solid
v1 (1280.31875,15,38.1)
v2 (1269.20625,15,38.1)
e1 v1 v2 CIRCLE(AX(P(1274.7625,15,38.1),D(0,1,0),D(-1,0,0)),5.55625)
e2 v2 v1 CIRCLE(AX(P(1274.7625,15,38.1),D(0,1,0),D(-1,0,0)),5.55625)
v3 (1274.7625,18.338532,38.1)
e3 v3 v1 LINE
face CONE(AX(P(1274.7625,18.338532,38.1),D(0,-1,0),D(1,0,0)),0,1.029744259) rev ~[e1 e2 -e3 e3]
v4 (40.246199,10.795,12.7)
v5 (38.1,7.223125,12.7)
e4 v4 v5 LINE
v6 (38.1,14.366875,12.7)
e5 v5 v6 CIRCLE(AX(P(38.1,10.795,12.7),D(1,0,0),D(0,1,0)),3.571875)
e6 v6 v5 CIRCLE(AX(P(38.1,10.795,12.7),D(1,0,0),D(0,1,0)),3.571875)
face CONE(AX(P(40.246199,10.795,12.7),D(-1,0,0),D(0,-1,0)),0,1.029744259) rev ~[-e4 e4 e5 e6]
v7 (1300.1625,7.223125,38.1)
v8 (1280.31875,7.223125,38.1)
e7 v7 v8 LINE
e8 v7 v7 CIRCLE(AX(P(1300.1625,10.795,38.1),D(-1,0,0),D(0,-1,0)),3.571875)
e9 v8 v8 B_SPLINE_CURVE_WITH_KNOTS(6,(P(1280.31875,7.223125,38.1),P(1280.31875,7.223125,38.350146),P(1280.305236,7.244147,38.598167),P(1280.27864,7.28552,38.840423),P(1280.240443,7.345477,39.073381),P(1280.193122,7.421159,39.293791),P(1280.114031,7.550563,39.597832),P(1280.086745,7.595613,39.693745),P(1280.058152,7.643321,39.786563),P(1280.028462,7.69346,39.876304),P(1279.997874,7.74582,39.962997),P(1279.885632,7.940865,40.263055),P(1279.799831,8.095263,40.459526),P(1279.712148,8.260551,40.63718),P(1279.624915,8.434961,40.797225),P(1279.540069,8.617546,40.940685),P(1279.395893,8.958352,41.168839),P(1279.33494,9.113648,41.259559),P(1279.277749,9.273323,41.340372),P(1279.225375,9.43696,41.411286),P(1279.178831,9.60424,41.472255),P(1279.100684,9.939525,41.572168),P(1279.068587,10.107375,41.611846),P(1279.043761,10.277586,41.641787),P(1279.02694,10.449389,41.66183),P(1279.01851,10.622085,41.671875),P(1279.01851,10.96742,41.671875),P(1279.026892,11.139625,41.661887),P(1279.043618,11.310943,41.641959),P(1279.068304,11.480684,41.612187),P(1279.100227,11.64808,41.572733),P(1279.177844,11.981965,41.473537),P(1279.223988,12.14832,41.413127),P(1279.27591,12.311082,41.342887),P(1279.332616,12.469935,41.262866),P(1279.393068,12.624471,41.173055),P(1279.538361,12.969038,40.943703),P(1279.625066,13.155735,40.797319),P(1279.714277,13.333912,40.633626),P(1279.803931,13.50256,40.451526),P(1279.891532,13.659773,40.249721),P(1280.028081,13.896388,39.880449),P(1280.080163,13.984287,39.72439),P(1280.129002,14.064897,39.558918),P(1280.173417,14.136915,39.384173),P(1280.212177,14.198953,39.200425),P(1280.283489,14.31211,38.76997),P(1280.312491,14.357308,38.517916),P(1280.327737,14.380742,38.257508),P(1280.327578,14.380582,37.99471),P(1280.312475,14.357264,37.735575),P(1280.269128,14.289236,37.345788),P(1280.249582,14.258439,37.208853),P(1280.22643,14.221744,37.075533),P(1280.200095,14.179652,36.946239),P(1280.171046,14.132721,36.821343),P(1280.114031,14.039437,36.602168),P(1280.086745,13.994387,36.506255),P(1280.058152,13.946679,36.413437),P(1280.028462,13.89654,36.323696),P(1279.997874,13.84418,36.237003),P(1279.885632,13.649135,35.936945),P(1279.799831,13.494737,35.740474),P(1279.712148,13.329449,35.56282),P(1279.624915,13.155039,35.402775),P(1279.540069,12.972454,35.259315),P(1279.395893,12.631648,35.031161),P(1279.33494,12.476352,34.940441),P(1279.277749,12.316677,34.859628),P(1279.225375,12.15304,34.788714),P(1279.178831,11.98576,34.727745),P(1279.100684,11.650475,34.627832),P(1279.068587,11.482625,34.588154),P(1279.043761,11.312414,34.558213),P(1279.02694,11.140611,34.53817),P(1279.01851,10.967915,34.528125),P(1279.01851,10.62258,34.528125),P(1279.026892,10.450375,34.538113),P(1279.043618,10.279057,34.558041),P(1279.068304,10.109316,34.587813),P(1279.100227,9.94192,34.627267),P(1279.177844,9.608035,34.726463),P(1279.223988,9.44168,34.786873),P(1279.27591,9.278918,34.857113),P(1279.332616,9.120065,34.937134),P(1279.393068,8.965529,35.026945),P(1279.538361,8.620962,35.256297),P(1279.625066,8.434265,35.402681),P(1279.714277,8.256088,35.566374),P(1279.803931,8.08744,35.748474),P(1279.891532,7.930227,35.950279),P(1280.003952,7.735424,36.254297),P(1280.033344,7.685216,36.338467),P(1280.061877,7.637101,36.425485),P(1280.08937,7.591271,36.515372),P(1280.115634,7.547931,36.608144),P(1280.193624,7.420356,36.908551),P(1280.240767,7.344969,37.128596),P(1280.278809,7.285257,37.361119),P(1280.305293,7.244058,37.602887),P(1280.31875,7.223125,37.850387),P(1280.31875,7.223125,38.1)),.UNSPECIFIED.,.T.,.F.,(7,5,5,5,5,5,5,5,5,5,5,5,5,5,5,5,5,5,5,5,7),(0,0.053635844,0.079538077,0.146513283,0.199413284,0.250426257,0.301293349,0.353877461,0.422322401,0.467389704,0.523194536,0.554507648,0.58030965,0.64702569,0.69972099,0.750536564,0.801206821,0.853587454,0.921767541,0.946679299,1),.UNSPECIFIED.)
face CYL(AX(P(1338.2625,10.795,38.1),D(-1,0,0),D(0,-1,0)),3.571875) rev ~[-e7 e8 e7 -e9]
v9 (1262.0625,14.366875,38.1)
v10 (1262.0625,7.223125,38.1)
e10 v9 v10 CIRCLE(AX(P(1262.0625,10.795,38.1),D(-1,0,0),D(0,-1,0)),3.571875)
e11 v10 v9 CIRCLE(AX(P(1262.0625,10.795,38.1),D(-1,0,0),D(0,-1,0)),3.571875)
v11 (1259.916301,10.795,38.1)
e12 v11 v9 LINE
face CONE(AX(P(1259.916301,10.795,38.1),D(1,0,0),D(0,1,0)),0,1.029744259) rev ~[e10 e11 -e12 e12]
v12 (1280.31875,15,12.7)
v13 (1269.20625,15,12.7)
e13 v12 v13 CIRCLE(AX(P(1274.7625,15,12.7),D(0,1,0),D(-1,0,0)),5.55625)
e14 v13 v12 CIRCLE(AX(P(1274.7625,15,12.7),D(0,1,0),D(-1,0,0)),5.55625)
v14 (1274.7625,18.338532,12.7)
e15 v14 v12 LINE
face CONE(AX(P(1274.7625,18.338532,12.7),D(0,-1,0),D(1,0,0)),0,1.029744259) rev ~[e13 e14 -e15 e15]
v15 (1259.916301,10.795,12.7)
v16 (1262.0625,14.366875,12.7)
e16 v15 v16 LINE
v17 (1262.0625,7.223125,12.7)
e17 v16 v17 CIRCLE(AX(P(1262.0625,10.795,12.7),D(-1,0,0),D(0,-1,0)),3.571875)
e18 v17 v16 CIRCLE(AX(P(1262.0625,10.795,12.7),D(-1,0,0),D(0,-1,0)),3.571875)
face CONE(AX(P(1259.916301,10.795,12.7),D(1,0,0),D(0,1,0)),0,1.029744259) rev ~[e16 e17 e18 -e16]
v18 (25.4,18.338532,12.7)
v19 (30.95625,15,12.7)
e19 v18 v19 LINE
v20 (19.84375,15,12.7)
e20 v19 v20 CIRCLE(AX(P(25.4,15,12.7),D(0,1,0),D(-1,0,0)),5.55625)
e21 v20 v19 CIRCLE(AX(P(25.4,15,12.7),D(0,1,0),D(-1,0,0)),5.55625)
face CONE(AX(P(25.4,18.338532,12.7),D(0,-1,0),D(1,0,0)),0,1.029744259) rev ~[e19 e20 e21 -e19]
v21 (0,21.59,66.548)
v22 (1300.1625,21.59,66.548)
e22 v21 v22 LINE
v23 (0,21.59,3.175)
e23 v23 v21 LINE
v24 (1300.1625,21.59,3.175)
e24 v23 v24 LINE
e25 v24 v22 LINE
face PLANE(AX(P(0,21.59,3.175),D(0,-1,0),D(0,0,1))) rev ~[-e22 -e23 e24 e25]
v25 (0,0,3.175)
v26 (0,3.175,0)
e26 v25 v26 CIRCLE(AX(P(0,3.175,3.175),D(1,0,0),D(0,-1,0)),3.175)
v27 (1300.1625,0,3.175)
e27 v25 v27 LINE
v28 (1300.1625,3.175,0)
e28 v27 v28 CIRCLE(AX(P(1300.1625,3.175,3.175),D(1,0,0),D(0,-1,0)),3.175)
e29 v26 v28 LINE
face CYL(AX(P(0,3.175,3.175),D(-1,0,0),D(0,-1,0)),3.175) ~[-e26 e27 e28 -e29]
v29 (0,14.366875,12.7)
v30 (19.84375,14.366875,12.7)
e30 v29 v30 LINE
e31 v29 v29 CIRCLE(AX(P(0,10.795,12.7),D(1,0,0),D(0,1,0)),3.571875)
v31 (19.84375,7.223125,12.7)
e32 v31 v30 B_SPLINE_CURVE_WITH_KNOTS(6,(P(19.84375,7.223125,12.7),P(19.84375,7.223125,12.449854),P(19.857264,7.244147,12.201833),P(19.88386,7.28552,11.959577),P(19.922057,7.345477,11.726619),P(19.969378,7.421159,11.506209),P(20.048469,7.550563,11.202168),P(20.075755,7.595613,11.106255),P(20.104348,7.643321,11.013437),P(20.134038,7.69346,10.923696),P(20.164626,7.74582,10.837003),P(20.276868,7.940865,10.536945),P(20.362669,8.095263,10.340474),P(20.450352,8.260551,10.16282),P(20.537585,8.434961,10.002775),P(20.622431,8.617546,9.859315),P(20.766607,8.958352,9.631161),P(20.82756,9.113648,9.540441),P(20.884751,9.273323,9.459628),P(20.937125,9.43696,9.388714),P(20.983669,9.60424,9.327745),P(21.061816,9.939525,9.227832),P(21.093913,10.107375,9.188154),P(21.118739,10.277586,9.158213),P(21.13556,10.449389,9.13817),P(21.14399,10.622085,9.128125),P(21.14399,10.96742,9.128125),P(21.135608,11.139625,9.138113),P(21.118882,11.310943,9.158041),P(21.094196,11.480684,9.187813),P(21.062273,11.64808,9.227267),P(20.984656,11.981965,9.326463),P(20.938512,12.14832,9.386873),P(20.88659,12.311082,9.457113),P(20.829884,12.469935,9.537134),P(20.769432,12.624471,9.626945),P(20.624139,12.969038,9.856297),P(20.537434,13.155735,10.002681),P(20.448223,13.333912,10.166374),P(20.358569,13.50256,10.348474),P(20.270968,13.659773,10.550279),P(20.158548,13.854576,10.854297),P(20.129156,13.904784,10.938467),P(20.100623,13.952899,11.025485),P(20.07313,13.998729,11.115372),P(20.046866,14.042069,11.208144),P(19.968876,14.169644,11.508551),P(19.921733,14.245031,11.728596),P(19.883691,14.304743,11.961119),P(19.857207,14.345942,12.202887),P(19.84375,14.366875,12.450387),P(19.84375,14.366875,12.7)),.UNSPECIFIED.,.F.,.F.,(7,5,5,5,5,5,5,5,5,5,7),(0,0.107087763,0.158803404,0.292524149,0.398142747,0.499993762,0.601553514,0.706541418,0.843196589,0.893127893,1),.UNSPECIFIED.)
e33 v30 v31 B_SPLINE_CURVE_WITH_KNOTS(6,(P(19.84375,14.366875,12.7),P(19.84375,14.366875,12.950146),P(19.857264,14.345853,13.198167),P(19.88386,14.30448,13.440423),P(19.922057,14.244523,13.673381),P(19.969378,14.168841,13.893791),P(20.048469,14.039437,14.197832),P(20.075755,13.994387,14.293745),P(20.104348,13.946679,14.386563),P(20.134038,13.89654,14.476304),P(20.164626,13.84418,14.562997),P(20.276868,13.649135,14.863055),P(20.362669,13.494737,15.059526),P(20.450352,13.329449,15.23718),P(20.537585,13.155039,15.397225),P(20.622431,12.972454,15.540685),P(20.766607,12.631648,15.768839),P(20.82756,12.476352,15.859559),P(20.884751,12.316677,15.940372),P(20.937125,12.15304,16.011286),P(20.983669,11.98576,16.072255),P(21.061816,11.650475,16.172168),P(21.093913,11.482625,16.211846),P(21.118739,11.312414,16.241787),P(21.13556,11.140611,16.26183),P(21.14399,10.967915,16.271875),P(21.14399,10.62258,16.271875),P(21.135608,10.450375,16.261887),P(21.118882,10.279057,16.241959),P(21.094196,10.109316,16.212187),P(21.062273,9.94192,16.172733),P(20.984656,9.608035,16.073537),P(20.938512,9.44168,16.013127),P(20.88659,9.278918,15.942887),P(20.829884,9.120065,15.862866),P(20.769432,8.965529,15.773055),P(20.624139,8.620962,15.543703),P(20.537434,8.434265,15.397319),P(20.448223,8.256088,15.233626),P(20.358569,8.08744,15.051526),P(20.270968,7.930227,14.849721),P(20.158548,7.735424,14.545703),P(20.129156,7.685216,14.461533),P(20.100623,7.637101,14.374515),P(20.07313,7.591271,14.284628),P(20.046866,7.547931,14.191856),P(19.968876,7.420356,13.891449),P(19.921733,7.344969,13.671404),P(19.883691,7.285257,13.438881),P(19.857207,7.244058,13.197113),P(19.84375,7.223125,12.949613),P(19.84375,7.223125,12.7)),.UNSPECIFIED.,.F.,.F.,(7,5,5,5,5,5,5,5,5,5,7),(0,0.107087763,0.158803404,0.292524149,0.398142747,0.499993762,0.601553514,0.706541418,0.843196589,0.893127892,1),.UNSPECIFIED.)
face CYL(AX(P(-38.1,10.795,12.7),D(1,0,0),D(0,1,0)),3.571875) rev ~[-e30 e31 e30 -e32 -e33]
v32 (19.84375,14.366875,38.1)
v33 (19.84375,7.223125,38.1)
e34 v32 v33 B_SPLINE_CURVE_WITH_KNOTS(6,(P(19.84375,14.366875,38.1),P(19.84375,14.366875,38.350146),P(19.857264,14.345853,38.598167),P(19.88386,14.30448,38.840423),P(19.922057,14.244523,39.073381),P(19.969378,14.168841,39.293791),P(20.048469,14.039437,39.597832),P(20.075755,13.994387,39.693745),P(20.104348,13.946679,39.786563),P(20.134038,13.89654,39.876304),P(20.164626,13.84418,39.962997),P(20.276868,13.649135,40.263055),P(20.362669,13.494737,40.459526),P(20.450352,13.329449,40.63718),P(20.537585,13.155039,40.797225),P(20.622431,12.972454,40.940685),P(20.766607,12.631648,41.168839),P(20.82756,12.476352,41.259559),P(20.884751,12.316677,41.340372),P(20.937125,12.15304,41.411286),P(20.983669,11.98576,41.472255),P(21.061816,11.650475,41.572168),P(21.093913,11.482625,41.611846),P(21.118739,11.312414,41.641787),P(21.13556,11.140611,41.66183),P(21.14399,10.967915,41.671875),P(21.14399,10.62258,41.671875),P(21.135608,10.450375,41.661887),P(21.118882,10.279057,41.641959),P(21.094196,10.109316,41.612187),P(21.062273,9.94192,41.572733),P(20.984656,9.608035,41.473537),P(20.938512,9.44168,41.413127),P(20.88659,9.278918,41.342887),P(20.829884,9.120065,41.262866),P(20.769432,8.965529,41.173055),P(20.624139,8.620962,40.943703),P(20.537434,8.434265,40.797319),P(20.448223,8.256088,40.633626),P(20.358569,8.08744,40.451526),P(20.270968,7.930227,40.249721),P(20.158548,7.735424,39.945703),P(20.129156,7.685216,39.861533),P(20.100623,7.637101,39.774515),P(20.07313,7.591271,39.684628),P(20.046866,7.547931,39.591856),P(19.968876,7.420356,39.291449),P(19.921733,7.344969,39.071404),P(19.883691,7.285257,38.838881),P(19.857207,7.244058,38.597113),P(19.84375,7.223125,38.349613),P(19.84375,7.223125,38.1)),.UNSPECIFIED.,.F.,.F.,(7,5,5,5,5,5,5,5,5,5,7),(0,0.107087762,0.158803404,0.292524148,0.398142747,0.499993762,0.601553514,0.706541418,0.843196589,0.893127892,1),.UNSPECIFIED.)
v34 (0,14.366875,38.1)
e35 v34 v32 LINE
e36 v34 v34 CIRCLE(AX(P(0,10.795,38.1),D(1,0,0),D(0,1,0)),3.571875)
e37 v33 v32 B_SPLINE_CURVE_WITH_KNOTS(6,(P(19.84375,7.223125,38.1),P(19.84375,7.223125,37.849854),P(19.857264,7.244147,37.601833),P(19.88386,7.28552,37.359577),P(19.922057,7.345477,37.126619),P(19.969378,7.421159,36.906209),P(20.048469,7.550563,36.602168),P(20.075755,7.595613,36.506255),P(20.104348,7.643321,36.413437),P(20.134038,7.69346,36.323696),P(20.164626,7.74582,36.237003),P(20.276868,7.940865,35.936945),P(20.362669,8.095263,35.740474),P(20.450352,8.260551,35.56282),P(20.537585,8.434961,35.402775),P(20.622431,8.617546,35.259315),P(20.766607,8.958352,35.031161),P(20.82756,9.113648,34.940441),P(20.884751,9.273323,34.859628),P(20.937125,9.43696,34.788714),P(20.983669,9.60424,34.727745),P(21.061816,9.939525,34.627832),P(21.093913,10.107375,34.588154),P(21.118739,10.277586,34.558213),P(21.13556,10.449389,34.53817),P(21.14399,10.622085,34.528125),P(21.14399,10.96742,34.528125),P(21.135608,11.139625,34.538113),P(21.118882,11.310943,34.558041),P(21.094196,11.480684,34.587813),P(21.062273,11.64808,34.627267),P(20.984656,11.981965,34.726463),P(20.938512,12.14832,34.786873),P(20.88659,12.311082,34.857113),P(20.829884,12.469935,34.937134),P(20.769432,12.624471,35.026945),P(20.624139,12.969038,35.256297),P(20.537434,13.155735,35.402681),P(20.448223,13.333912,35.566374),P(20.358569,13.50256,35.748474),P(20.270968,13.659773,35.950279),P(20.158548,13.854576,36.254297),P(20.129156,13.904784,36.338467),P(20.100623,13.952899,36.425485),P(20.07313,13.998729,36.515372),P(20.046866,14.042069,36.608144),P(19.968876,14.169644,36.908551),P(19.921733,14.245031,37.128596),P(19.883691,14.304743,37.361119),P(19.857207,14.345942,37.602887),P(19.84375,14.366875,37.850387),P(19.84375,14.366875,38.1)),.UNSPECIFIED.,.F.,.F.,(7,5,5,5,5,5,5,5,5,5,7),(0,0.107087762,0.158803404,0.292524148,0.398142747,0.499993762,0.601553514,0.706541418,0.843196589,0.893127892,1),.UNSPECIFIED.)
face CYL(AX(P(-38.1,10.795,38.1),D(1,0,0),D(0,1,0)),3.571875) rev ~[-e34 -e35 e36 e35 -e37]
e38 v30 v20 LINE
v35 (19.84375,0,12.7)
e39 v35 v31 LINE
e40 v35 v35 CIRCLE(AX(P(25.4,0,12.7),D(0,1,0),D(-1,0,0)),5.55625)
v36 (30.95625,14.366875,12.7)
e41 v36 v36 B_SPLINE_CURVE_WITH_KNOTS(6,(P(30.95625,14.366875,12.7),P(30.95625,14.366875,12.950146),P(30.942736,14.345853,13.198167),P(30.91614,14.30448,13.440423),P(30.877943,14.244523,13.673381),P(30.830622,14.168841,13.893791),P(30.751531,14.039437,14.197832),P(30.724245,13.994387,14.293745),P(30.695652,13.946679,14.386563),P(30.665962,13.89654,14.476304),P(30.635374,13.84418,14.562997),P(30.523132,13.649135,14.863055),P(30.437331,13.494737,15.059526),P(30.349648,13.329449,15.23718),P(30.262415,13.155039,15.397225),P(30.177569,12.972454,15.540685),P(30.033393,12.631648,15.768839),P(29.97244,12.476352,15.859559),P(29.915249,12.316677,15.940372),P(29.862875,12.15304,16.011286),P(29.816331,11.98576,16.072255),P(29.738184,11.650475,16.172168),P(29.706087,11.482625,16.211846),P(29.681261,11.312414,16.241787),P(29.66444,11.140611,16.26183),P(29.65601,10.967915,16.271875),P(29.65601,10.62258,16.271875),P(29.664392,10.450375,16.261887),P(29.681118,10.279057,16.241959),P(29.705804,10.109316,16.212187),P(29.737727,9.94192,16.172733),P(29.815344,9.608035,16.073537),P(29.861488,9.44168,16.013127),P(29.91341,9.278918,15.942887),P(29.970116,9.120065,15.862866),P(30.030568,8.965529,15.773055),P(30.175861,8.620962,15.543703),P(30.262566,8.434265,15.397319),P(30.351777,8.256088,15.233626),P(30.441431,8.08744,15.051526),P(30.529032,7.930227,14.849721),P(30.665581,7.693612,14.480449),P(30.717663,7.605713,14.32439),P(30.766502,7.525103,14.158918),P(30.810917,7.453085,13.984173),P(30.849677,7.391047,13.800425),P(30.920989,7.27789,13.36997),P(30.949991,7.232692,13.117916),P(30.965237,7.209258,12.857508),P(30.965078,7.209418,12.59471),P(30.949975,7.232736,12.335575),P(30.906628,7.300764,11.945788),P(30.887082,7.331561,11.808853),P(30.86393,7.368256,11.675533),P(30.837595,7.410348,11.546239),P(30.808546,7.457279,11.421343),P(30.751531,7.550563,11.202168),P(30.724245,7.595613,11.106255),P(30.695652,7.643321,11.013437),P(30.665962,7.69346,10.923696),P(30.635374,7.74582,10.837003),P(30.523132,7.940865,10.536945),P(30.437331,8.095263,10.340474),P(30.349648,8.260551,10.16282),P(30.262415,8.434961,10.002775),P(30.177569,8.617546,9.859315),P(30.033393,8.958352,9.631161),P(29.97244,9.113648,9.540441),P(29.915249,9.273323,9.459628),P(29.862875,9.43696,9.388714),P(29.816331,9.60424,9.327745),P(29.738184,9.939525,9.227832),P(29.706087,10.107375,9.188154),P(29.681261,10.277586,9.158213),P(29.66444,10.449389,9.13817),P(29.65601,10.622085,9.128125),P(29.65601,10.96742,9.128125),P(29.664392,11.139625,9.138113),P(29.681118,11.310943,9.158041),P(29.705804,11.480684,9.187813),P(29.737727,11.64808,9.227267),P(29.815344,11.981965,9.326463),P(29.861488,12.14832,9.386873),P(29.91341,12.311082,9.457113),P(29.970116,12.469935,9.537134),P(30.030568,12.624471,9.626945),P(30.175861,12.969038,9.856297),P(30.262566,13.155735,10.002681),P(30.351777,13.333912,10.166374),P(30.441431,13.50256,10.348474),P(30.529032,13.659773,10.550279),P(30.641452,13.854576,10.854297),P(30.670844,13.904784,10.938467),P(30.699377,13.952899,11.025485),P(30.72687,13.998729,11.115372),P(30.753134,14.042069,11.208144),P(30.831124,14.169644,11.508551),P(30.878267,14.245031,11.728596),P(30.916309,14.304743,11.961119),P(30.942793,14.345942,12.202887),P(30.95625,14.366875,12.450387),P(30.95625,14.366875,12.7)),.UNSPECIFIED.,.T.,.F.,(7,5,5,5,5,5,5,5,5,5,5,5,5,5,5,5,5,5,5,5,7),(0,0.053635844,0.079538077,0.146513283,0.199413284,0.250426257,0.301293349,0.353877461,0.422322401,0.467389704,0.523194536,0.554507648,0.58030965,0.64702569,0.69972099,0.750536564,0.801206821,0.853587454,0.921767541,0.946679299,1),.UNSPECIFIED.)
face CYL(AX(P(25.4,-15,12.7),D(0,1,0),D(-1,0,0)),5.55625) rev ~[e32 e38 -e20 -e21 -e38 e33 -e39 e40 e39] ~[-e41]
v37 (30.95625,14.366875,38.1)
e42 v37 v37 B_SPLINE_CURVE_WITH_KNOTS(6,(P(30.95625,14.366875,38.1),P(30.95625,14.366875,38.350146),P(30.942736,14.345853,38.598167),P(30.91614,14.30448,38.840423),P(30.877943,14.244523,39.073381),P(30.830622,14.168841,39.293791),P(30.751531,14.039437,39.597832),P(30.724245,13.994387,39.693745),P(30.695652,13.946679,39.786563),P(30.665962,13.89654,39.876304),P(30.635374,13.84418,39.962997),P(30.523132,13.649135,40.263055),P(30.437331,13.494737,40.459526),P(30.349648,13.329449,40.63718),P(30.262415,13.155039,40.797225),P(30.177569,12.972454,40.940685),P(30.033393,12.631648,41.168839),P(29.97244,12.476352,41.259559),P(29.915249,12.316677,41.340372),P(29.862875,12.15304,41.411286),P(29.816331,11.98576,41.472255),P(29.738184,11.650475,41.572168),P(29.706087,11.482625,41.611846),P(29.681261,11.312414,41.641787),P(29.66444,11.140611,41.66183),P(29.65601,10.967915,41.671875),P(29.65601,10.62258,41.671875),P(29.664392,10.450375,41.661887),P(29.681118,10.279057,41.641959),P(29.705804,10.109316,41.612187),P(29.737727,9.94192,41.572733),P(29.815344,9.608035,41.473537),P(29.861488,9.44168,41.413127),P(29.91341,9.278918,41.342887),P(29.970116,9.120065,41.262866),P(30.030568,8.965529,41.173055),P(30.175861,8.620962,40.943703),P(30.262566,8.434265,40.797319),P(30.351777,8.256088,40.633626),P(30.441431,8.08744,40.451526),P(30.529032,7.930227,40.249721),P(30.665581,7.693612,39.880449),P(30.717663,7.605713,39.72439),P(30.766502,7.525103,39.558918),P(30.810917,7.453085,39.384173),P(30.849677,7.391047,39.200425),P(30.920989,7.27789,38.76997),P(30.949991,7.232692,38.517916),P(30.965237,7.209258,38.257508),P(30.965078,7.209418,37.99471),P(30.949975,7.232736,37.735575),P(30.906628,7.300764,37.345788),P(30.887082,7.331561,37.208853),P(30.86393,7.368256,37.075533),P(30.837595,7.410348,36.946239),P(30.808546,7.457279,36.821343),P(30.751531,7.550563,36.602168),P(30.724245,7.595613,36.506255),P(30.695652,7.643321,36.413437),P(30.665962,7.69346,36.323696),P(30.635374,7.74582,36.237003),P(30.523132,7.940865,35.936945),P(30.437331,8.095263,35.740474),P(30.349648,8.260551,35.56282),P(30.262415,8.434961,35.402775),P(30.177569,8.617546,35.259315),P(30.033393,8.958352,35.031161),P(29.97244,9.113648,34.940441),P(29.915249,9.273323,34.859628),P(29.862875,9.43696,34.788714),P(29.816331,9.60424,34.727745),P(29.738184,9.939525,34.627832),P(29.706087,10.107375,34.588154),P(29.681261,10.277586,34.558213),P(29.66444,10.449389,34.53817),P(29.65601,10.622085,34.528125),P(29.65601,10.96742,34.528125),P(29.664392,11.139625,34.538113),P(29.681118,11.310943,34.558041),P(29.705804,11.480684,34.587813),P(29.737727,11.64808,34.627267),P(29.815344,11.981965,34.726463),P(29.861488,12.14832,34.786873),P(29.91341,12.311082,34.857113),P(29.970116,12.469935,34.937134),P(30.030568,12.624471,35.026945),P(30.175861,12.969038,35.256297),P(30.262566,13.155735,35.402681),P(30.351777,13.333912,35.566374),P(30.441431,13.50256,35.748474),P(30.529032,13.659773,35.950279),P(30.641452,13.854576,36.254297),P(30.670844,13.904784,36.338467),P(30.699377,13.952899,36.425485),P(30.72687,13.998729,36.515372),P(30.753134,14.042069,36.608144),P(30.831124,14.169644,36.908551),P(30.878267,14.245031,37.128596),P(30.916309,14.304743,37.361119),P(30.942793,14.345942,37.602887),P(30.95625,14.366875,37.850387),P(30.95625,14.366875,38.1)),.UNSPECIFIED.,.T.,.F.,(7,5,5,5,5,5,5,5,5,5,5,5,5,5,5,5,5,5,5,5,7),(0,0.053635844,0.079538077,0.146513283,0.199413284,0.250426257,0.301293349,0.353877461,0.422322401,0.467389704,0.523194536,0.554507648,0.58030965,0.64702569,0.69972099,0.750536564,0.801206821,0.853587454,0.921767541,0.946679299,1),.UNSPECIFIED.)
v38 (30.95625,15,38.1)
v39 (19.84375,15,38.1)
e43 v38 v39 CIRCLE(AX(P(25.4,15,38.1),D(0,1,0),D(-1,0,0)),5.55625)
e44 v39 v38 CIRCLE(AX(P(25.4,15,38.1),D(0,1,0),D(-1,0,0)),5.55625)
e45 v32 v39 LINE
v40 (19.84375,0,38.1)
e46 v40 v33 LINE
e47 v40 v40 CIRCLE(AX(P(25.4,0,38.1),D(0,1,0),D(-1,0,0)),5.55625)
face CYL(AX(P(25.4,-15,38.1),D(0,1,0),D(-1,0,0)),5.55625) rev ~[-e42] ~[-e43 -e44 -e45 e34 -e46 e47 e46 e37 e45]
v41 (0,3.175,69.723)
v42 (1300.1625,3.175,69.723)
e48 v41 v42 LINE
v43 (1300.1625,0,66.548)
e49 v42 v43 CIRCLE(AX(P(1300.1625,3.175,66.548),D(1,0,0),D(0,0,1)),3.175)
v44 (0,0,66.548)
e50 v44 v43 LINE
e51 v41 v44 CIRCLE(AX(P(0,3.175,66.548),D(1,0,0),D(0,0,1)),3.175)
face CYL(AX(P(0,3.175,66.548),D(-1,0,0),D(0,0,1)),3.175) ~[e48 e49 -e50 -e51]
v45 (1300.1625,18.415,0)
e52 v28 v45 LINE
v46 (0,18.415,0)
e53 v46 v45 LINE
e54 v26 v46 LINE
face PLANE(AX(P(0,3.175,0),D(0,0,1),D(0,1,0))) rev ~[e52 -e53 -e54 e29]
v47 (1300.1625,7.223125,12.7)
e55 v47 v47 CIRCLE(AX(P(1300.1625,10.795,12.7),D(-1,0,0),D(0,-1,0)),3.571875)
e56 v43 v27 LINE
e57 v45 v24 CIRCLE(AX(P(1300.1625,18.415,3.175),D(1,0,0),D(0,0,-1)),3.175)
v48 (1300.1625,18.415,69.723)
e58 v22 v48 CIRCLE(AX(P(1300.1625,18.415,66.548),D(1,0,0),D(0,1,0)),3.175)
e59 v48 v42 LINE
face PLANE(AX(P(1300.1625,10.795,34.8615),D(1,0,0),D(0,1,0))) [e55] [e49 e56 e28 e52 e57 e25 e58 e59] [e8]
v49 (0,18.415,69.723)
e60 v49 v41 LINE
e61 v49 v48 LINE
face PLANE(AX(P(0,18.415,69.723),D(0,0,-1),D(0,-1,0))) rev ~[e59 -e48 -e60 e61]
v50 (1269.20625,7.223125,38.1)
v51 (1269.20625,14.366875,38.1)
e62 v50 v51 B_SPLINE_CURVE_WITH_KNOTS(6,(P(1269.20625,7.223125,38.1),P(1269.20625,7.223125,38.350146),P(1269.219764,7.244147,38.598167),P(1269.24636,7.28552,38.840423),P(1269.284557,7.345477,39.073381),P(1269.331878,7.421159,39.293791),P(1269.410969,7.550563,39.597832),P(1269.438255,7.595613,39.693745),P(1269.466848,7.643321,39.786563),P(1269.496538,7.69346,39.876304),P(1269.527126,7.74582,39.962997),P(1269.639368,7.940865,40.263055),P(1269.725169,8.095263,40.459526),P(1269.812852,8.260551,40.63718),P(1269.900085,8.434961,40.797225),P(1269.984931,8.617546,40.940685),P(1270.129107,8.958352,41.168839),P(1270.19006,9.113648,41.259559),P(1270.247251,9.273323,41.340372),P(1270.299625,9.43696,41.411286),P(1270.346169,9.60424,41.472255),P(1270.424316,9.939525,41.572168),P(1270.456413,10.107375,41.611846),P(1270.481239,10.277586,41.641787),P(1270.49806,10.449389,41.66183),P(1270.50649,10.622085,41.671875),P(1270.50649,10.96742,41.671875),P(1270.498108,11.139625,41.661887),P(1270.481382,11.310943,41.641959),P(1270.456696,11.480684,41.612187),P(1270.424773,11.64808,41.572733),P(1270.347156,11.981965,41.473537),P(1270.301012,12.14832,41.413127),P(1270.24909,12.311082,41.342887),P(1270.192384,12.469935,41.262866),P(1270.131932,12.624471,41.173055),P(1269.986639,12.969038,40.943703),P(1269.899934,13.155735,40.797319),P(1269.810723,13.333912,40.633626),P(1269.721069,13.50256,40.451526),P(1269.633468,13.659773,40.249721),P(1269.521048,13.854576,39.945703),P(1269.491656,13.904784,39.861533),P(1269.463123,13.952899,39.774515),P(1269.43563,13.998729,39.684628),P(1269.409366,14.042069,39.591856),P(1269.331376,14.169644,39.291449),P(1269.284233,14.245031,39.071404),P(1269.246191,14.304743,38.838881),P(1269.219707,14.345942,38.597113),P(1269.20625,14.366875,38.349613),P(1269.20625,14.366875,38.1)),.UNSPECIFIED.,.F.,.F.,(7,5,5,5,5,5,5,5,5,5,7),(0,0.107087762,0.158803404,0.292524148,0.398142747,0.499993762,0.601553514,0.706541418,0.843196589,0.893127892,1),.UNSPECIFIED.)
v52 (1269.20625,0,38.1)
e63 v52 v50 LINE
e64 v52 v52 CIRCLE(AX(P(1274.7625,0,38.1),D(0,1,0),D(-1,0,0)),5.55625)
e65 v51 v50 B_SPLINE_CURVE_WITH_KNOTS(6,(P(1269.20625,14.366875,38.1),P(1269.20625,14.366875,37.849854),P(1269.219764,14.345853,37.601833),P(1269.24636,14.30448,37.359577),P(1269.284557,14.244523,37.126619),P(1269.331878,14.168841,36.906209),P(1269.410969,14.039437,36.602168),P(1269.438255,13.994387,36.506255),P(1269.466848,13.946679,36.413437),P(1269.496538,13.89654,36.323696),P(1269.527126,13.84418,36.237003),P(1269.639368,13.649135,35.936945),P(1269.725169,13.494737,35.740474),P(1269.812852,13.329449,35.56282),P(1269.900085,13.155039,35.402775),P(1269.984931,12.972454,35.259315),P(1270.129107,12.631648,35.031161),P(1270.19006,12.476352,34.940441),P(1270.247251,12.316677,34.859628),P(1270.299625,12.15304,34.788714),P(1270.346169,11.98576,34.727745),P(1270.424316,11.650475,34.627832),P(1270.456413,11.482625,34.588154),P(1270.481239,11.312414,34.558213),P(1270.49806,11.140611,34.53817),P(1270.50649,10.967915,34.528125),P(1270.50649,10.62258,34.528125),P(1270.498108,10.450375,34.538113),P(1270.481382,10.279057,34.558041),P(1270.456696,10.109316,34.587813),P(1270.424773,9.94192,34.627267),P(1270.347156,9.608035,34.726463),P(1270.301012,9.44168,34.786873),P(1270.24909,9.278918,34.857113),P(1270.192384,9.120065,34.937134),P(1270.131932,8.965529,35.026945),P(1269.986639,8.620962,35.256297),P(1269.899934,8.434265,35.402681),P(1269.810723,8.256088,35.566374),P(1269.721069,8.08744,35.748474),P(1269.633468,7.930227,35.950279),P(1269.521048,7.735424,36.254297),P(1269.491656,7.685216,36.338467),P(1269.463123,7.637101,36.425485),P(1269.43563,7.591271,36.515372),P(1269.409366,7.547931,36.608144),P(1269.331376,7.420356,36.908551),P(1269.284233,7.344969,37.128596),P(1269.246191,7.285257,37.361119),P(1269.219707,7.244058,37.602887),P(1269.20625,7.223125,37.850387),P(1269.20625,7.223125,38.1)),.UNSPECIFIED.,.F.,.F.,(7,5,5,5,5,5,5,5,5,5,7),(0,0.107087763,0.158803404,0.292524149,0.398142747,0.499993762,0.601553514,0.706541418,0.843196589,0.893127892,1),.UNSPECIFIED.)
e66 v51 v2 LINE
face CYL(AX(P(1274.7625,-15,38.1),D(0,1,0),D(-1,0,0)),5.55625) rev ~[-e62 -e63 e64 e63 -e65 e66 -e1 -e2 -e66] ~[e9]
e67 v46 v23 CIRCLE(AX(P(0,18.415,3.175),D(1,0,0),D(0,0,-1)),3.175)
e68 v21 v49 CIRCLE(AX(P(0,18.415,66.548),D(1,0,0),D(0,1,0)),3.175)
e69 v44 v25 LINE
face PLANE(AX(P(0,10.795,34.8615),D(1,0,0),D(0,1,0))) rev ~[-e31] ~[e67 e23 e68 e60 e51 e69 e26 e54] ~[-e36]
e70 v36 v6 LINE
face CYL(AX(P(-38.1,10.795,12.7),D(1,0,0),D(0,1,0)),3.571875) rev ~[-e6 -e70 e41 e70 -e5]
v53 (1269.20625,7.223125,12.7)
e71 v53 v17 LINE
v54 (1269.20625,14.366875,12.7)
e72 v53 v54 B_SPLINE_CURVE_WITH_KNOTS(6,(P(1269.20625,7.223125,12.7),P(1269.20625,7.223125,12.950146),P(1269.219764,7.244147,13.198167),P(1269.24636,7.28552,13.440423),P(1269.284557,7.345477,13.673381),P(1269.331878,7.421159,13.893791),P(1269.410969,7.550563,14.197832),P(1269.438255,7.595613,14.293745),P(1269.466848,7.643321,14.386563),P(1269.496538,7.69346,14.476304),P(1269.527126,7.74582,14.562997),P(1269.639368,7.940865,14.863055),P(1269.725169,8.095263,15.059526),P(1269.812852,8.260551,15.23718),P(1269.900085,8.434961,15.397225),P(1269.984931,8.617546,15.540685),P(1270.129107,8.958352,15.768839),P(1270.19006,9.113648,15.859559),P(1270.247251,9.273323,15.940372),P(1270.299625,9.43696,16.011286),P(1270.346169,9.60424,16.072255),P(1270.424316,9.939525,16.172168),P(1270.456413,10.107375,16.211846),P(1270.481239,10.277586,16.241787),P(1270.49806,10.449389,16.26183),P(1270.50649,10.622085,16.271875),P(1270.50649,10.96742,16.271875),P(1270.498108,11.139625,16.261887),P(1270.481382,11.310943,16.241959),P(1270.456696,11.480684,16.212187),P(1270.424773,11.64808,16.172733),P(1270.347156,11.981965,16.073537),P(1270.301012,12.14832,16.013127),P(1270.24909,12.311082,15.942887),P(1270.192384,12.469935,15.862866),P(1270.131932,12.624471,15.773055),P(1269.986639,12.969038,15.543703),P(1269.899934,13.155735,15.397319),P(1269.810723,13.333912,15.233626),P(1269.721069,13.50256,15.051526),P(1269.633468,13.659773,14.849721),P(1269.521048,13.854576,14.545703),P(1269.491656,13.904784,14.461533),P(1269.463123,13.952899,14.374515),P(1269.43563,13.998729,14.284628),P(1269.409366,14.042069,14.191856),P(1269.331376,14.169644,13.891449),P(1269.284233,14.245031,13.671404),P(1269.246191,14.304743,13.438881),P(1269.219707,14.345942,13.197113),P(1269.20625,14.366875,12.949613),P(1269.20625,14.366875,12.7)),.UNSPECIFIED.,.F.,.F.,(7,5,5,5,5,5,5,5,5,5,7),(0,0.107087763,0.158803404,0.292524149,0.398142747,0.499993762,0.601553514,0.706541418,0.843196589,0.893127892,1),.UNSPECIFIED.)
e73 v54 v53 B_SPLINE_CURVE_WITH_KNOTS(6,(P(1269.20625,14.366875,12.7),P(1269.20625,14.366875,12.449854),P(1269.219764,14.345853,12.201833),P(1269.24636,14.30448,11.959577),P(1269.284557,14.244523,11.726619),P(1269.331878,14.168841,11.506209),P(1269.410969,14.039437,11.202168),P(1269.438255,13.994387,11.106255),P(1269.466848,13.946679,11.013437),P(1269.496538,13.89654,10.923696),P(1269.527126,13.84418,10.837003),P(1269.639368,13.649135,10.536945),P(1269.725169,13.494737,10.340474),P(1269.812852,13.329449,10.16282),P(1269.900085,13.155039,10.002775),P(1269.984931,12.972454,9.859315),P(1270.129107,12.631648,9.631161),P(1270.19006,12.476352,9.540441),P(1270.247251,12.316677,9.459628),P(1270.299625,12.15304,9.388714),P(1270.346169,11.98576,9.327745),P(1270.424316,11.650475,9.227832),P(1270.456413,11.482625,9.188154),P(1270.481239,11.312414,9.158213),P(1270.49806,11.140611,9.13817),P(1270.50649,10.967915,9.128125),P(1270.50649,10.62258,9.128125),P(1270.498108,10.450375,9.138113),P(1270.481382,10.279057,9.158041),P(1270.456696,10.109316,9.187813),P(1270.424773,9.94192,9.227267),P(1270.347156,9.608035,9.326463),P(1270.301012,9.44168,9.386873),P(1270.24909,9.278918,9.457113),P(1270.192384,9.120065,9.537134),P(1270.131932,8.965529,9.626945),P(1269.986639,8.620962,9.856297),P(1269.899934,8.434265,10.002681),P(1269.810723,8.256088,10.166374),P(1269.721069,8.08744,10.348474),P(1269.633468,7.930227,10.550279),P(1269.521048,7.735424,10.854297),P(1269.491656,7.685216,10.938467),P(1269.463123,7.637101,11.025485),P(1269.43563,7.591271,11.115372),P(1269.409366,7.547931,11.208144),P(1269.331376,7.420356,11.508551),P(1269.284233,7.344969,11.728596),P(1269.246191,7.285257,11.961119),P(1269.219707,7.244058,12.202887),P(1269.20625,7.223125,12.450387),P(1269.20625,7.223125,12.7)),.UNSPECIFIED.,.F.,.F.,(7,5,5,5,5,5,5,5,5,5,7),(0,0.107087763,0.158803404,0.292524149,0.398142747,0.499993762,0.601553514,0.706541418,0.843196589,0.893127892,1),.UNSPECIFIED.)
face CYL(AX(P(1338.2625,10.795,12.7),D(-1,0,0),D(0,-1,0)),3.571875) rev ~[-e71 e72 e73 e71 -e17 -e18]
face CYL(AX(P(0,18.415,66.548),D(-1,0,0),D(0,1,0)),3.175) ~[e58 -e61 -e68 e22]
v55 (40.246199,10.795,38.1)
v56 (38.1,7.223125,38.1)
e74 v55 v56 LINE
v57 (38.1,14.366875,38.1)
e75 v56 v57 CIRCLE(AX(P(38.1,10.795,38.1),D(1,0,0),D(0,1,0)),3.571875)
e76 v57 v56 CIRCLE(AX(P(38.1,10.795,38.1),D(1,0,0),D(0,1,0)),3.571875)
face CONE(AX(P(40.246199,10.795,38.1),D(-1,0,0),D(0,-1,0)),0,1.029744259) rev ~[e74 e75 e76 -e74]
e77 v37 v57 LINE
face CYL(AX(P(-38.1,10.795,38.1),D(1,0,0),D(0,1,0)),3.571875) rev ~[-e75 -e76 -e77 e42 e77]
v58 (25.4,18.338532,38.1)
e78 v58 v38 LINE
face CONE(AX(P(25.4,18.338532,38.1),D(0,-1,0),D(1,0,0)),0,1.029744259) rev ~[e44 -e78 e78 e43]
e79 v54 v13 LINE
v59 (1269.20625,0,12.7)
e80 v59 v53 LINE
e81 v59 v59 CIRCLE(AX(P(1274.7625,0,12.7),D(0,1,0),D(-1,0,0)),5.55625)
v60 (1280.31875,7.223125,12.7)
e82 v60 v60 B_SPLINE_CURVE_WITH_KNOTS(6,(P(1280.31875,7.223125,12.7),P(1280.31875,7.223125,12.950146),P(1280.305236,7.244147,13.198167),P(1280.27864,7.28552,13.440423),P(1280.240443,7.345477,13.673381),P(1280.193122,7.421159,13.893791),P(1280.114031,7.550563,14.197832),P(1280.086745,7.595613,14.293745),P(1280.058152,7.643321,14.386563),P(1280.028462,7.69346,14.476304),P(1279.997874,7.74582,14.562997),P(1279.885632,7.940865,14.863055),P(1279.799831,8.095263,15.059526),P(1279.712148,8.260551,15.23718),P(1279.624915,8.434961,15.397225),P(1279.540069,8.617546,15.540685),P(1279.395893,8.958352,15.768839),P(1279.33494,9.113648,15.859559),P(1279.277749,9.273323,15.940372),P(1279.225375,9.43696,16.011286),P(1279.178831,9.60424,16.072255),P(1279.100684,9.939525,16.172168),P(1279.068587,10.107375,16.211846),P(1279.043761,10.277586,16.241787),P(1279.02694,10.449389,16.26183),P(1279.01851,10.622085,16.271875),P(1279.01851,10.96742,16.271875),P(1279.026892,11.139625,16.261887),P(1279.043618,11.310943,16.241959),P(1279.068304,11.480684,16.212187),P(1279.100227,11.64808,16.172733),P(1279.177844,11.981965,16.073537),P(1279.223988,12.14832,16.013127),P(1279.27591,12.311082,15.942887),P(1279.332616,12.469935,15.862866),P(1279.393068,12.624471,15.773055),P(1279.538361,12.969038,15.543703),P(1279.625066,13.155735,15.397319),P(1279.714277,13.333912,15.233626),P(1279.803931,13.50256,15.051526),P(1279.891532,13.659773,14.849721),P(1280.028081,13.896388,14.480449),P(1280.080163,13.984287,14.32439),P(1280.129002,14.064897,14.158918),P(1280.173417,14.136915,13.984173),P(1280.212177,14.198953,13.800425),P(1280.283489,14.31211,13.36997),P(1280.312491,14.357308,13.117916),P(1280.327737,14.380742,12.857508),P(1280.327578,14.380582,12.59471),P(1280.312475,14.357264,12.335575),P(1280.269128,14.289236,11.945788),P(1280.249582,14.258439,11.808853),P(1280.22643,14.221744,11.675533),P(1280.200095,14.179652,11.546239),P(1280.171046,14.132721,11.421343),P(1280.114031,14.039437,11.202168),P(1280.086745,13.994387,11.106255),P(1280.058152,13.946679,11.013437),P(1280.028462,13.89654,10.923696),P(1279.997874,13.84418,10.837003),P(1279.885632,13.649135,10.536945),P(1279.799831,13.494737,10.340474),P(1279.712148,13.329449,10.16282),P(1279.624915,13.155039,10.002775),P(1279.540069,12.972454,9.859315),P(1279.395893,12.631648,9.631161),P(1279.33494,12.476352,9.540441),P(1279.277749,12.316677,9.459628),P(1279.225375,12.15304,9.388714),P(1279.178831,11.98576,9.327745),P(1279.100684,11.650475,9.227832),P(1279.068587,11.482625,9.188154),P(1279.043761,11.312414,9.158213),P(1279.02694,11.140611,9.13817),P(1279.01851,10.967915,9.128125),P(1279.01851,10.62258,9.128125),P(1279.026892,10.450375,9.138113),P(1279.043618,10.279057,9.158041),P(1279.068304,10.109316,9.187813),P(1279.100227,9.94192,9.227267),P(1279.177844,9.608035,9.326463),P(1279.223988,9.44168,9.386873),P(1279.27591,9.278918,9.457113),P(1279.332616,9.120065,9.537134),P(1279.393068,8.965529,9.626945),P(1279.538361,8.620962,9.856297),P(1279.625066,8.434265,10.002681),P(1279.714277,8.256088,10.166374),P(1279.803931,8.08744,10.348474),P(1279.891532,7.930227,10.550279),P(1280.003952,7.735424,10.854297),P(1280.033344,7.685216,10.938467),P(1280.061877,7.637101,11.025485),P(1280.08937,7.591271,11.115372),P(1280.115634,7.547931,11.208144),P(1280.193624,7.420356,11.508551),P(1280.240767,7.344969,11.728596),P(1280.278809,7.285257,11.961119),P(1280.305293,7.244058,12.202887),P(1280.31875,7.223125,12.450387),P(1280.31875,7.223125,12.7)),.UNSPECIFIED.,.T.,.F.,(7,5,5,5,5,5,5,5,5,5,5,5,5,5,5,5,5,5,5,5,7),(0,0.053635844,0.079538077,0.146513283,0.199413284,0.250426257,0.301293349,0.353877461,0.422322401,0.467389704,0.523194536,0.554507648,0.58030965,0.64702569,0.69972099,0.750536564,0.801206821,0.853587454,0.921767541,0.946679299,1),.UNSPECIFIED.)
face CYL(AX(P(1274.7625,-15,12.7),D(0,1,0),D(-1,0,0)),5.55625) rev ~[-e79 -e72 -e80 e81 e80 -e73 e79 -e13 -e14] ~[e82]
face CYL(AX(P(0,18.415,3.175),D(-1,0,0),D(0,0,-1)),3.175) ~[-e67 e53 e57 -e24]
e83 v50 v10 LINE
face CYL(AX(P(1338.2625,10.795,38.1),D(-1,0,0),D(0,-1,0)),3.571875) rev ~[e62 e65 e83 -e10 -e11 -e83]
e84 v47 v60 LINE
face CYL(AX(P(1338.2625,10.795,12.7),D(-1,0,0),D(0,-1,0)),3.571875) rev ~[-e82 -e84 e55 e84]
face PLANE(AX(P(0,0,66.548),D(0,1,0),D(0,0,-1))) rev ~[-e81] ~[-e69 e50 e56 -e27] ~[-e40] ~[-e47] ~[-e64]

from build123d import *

# Parameters (mm, degrees)
F1_DEPTH       = 1300.1625
F4_D           = 7.14375
F4_DEPTH       = 38.1
F4_TIP         = 2.1461990236
F4_ON_F2_D     = 7.14375
F4_ON_F2_DEPTH = 38.1
F4_ON_F2_TIP   = 2.1461990236
F6_D           = 11.1125
F6_DEPTH       = 15
F6_TIP         = 3.3385318145


with BuildPart() as f1:
    # F0 (on Right) → F1 (new body)
    with BuildSketch(Plane.YZ):
        with BuildLine():
            Line((3.175, 0), (18.415, 0))
            ThreePointArc((18.415, 0), (20.6600640303, 0.9299359697), (21.59, 3.175))
            Line((21.59, 3.175), (21.59, 66.548))
            ThreePointArc((21.59, 66.548), (20.6600640303, 68.7930640303), (18.415, 69.723))
            Line((18.415, 69.723), (3.175, 69.723))
            ThreePointArc((3.175, 69.723), (0.9299359697, 68.7930640303), (0, 66.548))
            Line((0, 66.548), (0, 3.175))
            ThreePointArc((0, 3.175), (0.9299359697, 0.9299359697), (3.175, 0))
        make_face()
    extrude(amount=F1_DEPTH)

    # F4
    with Locations(Plane.YZ.offset(1300.1625)):
        with Locations((10.795, 38.1), (10.795, 12.7)):
            Hole(F4_D / 2, depth=F4_DEPTH)
            with Locations((0, 0, -(F4_DEPTH + F4_TIP / 2))):  # 118° drill point
                Cone(0, F4_D / 2, F4_TIP, mode=Mode.SUBTRACT)

    # F4 on F2
    with Locations(Plane(origin=(0, 0, 0), x_dir=(0, -1, 0), z_dir=(-1, 0, 0))):
        with Locations((-10.795, 38.1), (-10.795, 12.7)):
            Hole(F4_ON_F2_D / 2, depth=F4_ON_F2_DEPTH)
            with Locations((0, 0, -(F4_ON_F2_DEPTH + F4_ON_F2_TIP / 2))):  # 118° drill point
                Cone(0, F4_ON_F2_D / 2, F4_ON_F2_TIP, mode=Mode.SUBTRACT)

    # F6
    with Locations(Plane.XZ):
        with Locations((25.4, 38.1), (25.4, 12.7), (1274.7625, 38.1), (1274.7625, 12.7)):
            Hole(F6_D / 2, depth=F6_DEPTH)
            with Locations((0, 0, -(F6_DEPTH + F6_TIP / 2))):  # 118° drill point
                Cone(0, F6_D / 2, F6_TIP, mode=Mode.SUBTRACT)


solid = f1.part
